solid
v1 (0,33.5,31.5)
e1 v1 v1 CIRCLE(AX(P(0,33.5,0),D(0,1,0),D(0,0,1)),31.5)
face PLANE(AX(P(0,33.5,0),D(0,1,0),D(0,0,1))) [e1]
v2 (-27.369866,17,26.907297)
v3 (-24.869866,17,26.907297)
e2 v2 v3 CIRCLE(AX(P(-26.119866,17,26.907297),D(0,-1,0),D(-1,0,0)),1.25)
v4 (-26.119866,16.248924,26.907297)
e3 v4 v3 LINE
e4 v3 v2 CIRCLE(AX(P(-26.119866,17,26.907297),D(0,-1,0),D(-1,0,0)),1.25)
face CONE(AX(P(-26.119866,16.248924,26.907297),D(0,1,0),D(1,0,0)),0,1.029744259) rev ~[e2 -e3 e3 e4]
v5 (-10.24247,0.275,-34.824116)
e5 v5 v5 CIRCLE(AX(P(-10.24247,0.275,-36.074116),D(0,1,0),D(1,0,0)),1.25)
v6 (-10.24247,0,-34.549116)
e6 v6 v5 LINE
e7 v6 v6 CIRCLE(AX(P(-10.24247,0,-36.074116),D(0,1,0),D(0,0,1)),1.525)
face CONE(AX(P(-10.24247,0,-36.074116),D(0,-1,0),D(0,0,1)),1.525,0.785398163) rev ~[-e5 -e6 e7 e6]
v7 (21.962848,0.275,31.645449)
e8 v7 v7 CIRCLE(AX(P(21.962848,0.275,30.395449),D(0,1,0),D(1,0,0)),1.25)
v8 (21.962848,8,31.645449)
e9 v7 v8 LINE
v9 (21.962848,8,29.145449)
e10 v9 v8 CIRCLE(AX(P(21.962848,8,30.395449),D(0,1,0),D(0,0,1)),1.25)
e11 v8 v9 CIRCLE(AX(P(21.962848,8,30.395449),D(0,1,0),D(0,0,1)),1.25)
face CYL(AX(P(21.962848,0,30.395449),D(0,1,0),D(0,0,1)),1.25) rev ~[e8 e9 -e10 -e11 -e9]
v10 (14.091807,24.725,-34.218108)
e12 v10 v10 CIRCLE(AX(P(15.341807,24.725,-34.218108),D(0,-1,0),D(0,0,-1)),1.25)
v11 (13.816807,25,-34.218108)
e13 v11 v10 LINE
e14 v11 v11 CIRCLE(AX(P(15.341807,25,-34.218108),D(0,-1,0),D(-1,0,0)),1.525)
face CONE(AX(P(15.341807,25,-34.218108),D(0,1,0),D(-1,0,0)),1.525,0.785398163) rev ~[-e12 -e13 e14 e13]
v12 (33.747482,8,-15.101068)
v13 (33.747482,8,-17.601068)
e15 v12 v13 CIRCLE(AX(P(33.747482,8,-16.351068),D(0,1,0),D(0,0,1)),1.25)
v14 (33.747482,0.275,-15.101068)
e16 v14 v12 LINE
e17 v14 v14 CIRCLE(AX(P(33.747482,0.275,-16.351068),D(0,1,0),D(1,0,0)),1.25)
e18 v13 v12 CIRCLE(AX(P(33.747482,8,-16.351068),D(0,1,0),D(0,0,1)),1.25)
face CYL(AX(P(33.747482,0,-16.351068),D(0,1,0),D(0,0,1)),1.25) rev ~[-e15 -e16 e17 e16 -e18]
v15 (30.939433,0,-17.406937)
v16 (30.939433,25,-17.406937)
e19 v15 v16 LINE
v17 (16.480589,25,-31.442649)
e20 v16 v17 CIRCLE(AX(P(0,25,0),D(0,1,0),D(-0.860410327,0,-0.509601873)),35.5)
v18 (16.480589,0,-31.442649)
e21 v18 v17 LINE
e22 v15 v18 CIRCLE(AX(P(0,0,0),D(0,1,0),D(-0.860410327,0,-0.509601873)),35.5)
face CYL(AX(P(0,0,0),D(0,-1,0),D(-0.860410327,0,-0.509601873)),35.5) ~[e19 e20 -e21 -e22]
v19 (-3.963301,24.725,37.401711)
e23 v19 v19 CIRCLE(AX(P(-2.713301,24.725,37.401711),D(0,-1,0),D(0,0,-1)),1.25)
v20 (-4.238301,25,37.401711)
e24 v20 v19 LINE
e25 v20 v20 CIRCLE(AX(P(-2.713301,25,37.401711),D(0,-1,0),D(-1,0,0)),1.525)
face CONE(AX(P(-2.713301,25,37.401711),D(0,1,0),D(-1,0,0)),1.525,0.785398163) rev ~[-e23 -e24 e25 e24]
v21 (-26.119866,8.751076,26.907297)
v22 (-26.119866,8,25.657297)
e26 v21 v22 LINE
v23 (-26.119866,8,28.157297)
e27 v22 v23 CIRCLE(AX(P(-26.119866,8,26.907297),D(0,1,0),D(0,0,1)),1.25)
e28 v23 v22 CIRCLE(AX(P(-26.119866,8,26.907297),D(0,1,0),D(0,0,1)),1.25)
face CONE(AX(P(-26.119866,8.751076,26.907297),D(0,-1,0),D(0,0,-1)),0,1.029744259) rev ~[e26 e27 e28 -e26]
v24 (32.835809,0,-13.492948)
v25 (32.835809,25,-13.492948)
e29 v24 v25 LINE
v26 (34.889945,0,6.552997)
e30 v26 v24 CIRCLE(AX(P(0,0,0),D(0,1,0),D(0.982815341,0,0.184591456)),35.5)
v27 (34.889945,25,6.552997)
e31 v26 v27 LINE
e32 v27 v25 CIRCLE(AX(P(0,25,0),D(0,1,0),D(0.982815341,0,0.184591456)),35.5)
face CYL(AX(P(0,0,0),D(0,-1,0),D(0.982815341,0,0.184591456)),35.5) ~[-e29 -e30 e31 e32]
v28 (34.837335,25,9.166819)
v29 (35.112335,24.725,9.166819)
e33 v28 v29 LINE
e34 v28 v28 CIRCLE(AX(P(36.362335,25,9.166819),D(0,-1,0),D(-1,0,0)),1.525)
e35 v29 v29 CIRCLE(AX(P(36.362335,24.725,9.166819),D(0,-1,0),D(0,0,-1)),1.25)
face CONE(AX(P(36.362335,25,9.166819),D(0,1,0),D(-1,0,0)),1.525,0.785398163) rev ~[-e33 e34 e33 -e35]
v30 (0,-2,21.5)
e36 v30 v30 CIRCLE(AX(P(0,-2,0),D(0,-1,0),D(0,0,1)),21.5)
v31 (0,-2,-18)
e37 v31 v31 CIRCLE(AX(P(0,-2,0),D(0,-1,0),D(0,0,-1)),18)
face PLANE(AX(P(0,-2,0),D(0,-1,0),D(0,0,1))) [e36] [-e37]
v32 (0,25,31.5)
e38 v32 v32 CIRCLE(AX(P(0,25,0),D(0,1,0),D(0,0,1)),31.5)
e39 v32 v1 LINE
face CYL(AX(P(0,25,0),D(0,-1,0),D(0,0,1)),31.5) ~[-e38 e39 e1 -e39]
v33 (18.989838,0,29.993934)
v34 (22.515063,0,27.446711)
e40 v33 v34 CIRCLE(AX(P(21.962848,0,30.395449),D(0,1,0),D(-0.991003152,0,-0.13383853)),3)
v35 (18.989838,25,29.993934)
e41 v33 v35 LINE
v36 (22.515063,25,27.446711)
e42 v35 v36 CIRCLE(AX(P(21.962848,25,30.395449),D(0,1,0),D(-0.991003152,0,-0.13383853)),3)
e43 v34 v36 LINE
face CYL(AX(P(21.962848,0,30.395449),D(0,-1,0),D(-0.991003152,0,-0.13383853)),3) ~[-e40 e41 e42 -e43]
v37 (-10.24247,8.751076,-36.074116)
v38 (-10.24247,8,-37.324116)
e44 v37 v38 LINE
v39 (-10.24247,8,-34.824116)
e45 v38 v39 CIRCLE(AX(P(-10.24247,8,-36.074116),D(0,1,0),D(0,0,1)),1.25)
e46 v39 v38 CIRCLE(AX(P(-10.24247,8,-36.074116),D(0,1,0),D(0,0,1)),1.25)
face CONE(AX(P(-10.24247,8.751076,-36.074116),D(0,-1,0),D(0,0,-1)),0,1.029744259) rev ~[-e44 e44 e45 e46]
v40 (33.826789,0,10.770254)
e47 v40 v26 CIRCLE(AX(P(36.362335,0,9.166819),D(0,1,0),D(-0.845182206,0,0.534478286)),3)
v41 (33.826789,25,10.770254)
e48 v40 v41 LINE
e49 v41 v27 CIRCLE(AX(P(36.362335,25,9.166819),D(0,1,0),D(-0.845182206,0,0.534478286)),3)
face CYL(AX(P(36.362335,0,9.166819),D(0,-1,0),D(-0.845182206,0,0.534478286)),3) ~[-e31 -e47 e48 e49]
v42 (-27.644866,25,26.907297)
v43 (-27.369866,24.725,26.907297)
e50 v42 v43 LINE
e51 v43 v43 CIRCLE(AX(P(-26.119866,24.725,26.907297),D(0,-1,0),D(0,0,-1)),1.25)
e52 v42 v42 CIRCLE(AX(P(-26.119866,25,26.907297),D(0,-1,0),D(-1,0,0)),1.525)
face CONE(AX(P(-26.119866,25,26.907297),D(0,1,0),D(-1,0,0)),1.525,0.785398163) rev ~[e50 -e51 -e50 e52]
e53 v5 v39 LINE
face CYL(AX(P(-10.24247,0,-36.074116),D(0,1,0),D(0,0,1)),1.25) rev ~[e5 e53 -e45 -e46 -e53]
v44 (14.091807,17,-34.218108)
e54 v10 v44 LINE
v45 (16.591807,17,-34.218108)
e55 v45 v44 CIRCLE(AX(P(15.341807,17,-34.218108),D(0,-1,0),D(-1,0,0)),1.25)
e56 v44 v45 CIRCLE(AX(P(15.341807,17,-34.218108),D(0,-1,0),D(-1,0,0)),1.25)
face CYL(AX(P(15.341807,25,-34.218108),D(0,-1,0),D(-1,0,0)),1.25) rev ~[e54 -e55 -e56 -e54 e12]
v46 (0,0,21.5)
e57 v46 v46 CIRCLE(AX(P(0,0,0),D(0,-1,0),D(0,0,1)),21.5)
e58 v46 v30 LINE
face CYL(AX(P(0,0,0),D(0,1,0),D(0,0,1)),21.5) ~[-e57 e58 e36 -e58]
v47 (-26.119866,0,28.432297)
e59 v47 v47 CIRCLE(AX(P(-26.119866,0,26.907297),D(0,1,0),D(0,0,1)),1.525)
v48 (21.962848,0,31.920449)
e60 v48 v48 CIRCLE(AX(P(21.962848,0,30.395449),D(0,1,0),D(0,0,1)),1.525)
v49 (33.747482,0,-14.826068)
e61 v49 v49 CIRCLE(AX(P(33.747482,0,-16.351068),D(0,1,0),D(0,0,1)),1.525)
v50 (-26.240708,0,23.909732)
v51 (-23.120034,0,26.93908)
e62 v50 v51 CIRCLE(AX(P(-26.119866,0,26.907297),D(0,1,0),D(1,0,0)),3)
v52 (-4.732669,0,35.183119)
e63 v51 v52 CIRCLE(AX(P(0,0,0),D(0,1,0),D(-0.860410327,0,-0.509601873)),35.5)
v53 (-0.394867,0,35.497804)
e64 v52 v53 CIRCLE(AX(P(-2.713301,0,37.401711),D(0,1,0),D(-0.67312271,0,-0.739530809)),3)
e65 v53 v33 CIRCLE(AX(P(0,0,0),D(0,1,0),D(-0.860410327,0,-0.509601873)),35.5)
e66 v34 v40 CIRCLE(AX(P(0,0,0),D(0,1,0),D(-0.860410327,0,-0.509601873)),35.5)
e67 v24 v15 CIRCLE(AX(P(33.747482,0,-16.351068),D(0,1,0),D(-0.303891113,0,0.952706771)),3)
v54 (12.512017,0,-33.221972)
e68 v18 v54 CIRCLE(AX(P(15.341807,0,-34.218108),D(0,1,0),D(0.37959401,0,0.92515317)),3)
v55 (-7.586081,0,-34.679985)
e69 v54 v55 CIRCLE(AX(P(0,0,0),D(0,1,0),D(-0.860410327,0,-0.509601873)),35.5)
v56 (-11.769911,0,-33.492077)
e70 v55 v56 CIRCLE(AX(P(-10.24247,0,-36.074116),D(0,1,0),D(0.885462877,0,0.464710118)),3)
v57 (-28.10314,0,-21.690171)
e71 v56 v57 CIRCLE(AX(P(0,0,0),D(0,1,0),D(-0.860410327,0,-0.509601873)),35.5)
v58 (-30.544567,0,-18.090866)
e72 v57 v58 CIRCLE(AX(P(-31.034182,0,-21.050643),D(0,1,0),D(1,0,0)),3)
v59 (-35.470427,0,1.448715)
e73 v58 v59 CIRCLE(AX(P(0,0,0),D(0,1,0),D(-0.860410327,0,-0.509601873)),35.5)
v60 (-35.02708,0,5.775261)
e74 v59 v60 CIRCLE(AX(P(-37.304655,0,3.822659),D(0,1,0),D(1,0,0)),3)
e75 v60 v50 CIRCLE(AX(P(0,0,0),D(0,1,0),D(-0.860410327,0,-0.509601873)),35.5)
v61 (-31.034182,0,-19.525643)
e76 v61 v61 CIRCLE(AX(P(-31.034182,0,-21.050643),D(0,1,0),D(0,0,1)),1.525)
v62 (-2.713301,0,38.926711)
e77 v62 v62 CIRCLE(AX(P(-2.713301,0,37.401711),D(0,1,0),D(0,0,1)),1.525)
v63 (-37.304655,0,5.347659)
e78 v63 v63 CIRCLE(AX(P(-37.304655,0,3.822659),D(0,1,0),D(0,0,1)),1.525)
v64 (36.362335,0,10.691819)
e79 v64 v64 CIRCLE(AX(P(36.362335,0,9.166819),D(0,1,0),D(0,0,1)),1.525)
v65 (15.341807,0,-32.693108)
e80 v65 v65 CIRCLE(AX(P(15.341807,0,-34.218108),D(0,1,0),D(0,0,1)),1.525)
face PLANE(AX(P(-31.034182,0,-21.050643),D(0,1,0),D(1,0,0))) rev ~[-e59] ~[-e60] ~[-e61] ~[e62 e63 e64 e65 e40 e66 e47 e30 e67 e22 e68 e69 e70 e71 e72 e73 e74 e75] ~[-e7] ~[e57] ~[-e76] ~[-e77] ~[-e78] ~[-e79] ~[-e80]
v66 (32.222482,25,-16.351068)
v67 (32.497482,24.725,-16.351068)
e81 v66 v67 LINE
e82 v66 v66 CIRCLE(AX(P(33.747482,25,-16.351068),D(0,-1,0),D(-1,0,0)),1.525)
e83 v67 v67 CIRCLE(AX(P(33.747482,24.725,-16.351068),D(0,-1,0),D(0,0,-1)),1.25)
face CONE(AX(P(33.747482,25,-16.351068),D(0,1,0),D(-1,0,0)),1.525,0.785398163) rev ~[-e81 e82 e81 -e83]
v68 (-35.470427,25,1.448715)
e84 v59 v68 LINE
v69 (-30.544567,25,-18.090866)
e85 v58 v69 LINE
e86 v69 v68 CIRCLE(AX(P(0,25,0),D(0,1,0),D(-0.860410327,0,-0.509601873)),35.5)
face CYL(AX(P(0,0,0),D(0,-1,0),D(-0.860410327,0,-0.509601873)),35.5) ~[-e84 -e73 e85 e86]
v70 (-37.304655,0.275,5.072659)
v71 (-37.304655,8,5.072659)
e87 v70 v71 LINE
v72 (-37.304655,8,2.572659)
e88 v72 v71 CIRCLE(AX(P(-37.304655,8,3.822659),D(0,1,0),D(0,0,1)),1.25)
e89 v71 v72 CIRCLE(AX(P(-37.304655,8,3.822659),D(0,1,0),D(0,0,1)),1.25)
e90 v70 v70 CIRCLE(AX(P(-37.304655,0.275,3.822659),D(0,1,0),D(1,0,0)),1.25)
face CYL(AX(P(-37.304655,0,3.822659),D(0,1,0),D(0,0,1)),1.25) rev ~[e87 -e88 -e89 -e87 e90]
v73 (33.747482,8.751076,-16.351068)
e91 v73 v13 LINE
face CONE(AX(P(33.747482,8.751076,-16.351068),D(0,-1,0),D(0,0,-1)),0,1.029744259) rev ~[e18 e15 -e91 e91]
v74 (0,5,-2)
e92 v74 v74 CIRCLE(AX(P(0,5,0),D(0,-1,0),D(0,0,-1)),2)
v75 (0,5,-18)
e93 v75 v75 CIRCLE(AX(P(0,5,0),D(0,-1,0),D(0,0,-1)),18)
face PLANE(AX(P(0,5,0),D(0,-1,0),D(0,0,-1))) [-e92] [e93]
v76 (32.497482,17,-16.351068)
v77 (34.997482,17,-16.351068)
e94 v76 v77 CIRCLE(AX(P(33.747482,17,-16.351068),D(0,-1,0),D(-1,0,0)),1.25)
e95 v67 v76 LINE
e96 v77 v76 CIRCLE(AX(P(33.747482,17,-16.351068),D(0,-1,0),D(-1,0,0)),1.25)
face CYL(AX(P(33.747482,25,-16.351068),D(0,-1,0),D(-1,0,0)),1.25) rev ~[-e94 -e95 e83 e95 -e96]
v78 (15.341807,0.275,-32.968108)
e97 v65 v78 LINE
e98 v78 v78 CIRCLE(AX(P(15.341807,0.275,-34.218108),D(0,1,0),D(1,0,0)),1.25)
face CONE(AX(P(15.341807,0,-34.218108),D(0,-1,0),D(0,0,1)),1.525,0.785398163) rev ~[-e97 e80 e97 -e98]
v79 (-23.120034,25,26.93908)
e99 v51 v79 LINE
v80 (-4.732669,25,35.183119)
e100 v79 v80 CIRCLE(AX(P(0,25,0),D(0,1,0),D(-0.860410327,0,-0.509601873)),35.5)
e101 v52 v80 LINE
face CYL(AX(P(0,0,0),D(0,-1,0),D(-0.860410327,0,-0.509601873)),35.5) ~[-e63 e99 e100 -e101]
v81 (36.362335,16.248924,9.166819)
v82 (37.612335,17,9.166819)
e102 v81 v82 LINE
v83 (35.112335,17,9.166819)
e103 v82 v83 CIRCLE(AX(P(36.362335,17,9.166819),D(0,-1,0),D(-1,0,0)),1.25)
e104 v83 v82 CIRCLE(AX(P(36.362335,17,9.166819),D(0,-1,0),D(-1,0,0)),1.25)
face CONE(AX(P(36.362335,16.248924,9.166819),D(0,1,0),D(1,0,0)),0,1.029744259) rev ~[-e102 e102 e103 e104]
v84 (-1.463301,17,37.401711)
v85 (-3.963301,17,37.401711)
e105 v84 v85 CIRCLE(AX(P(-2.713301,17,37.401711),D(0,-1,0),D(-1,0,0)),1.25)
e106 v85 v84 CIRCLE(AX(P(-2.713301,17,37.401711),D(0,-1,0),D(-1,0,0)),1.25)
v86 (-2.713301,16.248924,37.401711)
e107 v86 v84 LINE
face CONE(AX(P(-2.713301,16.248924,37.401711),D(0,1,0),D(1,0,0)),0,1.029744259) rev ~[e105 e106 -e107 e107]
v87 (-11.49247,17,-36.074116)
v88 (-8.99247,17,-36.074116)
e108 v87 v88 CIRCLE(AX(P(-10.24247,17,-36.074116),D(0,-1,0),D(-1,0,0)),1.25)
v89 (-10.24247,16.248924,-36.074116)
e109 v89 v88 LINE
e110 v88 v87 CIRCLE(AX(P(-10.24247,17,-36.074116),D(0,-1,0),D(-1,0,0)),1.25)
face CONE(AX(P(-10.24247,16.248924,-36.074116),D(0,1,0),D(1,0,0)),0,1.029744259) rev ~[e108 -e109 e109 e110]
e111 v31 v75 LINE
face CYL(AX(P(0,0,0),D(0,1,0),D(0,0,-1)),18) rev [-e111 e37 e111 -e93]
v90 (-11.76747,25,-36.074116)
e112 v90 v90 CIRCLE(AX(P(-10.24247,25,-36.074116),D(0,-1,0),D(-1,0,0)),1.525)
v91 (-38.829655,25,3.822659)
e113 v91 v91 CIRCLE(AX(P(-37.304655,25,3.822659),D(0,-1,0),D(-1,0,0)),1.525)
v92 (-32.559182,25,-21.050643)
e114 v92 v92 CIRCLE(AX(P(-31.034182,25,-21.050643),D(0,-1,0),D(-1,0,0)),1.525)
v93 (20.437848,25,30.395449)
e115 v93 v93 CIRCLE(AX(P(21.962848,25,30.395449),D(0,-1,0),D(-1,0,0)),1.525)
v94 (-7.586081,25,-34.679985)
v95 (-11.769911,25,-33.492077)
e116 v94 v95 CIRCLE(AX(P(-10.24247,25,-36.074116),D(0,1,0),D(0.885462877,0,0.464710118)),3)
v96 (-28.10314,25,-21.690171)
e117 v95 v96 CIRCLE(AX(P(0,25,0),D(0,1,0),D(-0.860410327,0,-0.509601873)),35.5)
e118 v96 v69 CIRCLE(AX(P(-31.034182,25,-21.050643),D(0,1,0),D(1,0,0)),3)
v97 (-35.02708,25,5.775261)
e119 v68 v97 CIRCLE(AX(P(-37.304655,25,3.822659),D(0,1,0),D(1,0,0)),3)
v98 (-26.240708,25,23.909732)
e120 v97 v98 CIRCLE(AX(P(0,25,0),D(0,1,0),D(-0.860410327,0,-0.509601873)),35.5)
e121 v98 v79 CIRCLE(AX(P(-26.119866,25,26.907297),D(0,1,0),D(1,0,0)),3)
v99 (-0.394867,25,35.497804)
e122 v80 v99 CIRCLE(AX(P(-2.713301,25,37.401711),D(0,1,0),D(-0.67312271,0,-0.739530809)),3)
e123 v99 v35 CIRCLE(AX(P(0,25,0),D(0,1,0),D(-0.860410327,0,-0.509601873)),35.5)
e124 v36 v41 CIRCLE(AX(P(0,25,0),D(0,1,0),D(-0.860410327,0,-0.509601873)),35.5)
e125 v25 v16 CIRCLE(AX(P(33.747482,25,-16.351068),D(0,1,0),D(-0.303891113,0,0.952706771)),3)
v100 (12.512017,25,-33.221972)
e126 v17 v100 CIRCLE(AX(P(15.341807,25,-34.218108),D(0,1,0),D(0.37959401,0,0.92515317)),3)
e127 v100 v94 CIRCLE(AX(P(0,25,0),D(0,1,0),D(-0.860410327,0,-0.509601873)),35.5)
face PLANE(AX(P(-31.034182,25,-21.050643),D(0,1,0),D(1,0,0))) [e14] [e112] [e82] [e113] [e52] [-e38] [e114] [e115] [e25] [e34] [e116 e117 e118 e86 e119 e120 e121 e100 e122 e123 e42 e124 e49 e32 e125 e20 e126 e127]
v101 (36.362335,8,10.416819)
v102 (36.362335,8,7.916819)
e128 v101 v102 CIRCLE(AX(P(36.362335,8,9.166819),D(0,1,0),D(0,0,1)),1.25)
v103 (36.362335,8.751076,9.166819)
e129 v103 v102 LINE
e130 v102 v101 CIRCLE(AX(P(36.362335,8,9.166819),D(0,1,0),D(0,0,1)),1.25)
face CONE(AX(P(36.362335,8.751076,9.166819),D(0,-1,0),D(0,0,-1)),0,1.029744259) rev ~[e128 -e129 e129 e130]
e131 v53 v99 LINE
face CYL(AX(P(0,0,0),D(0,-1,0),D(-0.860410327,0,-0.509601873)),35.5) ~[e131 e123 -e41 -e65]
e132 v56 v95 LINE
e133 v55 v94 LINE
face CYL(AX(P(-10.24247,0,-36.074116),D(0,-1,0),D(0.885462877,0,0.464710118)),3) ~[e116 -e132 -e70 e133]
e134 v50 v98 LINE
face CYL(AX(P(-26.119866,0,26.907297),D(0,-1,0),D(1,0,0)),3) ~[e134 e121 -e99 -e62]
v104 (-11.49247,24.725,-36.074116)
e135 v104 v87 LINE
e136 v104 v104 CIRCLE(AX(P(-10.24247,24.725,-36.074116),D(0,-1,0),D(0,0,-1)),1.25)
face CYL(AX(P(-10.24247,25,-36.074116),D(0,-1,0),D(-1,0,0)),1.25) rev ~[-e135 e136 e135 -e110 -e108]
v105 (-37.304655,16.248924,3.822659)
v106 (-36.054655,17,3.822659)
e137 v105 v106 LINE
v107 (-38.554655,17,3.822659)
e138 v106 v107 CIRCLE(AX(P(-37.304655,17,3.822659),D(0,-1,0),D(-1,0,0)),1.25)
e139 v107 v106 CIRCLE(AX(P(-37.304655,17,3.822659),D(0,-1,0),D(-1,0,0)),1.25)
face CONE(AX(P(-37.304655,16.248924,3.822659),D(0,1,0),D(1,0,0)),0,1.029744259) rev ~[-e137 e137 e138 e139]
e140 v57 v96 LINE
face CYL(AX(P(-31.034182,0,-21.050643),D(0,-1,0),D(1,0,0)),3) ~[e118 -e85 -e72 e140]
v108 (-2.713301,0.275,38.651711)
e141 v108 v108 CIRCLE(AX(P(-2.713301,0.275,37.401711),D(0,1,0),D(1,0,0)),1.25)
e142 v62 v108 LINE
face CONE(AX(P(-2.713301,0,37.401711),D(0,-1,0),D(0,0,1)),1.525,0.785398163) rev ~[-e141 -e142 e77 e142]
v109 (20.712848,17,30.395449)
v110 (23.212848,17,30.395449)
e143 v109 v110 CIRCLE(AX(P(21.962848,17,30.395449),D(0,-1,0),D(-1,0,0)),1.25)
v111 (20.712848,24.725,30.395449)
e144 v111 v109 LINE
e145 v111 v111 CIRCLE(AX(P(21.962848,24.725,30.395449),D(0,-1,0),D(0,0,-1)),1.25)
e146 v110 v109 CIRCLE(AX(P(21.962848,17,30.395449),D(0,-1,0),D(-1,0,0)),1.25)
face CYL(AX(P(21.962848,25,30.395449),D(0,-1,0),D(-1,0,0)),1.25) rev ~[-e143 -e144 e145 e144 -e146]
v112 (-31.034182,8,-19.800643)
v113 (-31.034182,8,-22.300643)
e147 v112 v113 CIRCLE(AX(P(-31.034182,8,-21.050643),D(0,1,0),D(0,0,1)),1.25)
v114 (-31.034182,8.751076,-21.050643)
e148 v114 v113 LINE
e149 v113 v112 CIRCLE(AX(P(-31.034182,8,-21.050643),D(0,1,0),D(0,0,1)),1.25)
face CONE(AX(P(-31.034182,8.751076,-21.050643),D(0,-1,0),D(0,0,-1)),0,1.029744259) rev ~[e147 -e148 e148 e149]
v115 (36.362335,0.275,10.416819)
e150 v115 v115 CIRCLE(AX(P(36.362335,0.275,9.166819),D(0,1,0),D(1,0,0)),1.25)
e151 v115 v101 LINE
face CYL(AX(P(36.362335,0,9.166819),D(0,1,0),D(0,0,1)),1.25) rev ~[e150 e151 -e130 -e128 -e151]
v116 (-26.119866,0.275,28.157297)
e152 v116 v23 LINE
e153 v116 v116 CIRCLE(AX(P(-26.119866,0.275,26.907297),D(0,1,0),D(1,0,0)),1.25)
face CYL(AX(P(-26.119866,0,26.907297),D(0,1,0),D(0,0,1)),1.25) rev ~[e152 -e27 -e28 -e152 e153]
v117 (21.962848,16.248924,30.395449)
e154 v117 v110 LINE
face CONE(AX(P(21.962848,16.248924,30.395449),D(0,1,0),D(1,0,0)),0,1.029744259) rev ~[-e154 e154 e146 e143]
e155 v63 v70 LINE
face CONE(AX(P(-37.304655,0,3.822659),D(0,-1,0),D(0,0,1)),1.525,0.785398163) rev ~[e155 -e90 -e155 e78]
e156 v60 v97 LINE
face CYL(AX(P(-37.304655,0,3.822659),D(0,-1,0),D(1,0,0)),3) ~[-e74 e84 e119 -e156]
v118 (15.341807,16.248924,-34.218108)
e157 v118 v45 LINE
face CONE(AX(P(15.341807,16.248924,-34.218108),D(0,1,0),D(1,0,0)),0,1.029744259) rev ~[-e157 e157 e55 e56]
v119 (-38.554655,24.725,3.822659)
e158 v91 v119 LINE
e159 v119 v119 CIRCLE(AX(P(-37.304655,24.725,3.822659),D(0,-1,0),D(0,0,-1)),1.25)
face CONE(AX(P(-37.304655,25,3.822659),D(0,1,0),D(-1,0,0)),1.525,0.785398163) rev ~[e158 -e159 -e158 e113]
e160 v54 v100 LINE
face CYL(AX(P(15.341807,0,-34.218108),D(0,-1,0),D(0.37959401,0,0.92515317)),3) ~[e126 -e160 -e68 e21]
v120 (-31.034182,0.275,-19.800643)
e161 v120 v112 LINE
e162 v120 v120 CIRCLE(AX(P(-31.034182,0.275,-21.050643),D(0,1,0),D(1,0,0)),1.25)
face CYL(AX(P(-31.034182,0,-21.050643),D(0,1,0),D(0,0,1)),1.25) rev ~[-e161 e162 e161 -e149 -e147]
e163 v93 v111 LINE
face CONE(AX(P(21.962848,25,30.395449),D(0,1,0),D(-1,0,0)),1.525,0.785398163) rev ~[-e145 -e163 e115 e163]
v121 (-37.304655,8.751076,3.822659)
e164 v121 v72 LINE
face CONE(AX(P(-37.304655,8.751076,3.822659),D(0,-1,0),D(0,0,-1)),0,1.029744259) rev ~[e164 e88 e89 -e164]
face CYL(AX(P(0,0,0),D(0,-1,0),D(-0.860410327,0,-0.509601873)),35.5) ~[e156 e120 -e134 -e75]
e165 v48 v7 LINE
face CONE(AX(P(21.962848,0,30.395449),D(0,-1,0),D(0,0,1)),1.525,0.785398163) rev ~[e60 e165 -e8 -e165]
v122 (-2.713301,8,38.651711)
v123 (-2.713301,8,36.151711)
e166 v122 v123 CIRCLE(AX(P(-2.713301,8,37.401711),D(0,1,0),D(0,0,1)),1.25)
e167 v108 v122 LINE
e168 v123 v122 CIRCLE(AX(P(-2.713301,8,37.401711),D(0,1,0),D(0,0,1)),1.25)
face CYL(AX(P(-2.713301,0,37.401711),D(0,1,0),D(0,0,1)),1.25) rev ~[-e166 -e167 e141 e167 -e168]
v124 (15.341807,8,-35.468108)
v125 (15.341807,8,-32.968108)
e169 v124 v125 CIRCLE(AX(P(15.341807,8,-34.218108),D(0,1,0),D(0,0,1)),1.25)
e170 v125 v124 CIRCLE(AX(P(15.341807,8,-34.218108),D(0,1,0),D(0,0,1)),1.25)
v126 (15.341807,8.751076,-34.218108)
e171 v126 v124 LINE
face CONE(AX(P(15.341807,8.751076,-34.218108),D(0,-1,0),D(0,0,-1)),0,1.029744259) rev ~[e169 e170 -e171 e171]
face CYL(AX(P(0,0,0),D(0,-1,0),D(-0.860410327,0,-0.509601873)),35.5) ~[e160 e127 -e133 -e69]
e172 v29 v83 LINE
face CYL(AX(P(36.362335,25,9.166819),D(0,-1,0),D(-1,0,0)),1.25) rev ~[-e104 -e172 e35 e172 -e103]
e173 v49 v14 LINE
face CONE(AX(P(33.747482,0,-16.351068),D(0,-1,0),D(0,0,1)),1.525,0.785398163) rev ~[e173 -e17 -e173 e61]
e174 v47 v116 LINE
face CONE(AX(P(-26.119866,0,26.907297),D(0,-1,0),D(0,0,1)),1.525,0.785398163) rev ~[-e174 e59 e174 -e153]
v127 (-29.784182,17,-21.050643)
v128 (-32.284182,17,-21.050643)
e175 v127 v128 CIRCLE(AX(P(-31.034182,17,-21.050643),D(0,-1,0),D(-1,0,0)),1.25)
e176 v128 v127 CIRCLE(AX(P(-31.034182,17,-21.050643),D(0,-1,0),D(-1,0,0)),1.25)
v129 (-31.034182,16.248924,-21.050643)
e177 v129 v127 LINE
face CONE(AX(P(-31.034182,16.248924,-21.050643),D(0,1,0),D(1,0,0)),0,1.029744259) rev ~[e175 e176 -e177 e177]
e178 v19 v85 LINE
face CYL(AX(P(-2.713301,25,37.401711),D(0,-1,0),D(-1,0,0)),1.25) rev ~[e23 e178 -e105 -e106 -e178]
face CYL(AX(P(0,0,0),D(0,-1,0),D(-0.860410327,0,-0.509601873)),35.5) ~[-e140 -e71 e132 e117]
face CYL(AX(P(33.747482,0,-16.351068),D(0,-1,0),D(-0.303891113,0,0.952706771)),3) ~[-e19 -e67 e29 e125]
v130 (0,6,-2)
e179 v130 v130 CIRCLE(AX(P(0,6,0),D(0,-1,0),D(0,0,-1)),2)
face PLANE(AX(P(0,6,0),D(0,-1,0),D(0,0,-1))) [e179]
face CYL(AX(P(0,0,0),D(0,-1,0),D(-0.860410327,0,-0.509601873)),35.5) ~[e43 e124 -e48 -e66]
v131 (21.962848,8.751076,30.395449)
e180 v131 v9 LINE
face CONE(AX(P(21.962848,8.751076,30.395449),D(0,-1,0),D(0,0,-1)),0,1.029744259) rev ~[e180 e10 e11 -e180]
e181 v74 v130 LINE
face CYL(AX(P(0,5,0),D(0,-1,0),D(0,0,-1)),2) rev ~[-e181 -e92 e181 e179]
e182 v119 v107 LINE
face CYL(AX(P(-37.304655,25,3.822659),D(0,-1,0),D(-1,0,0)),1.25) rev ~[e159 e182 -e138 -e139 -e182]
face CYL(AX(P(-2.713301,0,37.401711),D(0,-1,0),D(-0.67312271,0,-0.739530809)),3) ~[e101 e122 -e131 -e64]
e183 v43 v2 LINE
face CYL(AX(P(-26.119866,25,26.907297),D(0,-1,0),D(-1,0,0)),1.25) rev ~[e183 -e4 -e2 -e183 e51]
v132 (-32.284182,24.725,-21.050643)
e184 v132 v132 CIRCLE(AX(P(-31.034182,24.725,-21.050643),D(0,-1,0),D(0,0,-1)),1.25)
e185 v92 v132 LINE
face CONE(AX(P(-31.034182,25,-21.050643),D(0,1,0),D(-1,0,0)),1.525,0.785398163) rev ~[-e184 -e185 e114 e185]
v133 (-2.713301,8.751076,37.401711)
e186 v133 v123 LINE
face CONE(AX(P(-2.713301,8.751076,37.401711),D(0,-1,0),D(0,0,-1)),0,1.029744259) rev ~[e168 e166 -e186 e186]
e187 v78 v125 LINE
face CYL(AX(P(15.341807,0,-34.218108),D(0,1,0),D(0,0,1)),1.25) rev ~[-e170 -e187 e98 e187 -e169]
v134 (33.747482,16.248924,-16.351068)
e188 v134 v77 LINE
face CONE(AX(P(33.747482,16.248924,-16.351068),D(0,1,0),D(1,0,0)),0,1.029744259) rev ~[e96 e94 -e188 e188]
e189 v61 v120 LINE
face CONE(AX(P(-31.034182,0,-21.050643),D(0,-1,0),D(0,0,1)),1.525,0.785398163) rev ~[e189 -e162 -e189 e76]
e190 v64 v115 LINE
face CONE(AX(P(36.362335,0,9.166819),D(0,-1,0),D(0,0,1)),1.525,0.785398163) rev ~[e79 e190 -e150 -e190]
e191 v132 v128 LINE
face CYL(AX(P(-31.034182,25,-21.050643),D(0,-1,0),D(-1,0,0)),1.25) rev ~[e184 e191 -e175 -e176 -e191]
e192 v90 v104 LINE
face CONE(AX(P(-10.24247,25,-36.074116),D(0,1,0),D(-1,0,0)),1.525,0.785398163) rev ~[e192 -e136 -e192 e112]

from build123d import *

# Parameters (mm, degrees)
SKETCH_1_R                   = 3
SKETCH_1_R_2                 = 35.5
EXTRUDE_1_DEPTH              = 25
HOLE_WIZARD_M3_1_D           = 2.5
HOLE_WIZARD_M3_1_DEPTH       = 8
HOLE_WIZARD_M3_1_CSINK_D     = 3.05
HOLE_WIZARD_M3_1_CSINK_ANGLE = 90
HOLE_WIZARD_M3_1_TIP         = 0.751075774
SKETCH_7_R                   = 21.5
SKETCH_7_R_2                 = 18
EXTRUDE_3_DEPTH              = 2
CUT_EXTRUDE_START            = -5
SKETCH_8_R                   = 18
CUT_EXTRUDE_2_DEPTH          = 5
SKETCH_9_R                   = 2
CUT_EXTRUDE_3_DEPTH          = 1
SKETCH_11_R                  = 31.5
EXTRUDE_4_DEPTH              = 8.5
HOLE_WIZARD_M3_4_D           = 2.5
HOLE_WIZARD_M3_4_DEPTH       = 8
HOLE_WIZARD_M3_4_CSINK_D     = 3.05
HOLE_WIZARD_M3_4_CSINK_ANGLE = 90
HOLE_WIZARD_M3_4_TIP         = 0.751075774


with BuildPart() as part:
    # 草图1 → 凸台-拉伸1 (new body)
    with BuildSketch(Plane(origin=(0, 0, 0), x_dir=(1, 0, 0), z_dir=(0, 1, 0))):
        with Locations((-31.034181612, 21.050643022)):
            Circle(SKETCH_1_R)
        Circle(SKETCH_1_R_2)
        with Locations((-37.304654882, -3.822659306)):
            Circle(SKETCH_1_R)
        with Locations((-26.119865536, -26.907296861)):
            Circle(SKETCH_1_R)
        with Locations((-2.713300817, -37.401711173)):
            Circle(SKETCH_1_R)
        with Locations((21.96284751, -30.395449154)):
            Circle(SKETCH_1_R)
        with Locations((36.362335397, -9.166818668)):
            Circle(SKETCH_1_R)
        with Locations((33.747482429, 16.351068151)):
            Circle(SKETCH_1_R)
        with Locations((15.341807372, 34.21810846)):
            Circle(SKETCH_1_R)
        with Locations((-10.24246986, 36.074115528)):
            Circle(SKETCH_1_R)
        Circle(SKETCH_1_R_2)
        with Locations((-37.304654882, -3.822659306)):
            Circle(SKETCH_1_R)
        Circle(SKETCH_1_R_2)
        with Locations((-37.304654882, -3.822659306)):
            Circle(SKETCH_1_R)
        Circle(SKETCH_1_R_2)
        with Locations((-26.119865536, -26.907296861)):
            Circle(SKETCH_1_R)
        Circle(SKETCH_1_R_2)
        with Locations((-26.119865536, -26.907296861)):
            Circle(SKETCH_1_R)
        Circle(SKETCH_1_R_2)
        with Locations((-2.713300817, -37.401711173)):
            Circle(SKETCH_1_R)
        Circle(SKETCH_1_R_2)
        with Locations((-2.713300817, -37.401711173)):
            Circle(SKETCH_1_R)
        Circle(SKETCH_1_R_2)
        with Locations((21.96284751, -30.395449154)):
            Circle(SKETCH_1_R)
        Circle(SKETCH_1_R_2)
        with Locations((21.96284751, -30.395449154)):
            Circle(SKETCH_1_R)
        Circle(SKETCH_1_R_2)
        with Locations((36.362335397, -9.166818668)):
            Circle(SKETCH_1_R)
        Circle(SKETCH_1_R_2)
        with Locations((36.362335397, -9.166818668)):
            Circle(SKETCH_1_R)
        Circle(SKETCH_1_R_2)
        with Locations((33.747482429, 16.351068151)):
            Circle(SKETCH_1_R)
        Circle(SKETCH_1_R_2)
        with Locations((33.747482429, 16.351068151)):
            Circle(SKETCH_1_R)
        Circle(SKETCH_1_R_2)
        with Locations((15.341807372, 34.21810846)):
            Circle(SKETCH_1_R)
        Circle(SKETCH_1_R_2)
        with Locations((15.341807372, 34.21810846)):
            Circle(SKETCH_1_R)
        Circle(SKETCH_1_R_2)
        with Locations((-10.24246986, 36.074115528)):
            Circle(SKETCH_1_R)
        Circle(SKETCH_1_R_2)
        with Locations((-10.24246986, 36.074115528)):
            Circle(SKETCH_1_R)
        Circle(SKETCH_1_R_2)
        with Locations((-31.034181612, 21.050643022)):
            Circle(SKETCH_1_R)
        Circle(SKETCH_1_R_2)
        with Locations((-31.034181612, 21.050643022)):
            Circle(SKETCH_1_R)
    extrude(amount=EXTRUDE_1_DEPTH)

    # M3 螺纹孔1
    with Locations(Plane(origin=(-26.119865536, 0, 26.907296861), x_dir=(0, 0, -1), z_dir=(0, -1, 0))):
        with Locations((0, 0), (-10.494414312, 23.406564719), (-3.488152293, 48.082713046), (17.740478193, 62.482200933), (43.258365012, 59.867347965), (61.125405321, 41.461672908), (62.981412389, 15.877395676), (47.957939883, -4.914316076), (23.084637555, -11.184789346)):
            CounterSinkHole(HOLE_WIZARD_M3_1_D / 2, HOLE_WIZARD_M3_1_CSINK_D / 2, depth=HOLE_WIZARD_M3_1_DEPTH, counter_sink_angle=HOLE_WIZARD_M3_1_CSINK_ANGLE)
            with Locations((0, 0, -(HOLE_WIZARD_M3_1_DEPTH + HOLE_WIZARD_M3_1_TIP / 2))):  # 118° drill point
                Cone(0, HOLE_WIZARD_M3_1_D / 2, HOLE_WIZARD_M3_1_TIP, mode=Mode.SUBTRACT)

    # 草图7 → 凸台-拉伸3 (add)
    with BuildSketch(Plane.XZ):
        with Locations(Location((0, 0, 0), (0, 0, 90))):
            Circle(SKETCH_7_R)
        with Locations(Location((0, 0, 0), (0, 0, 270))):
            Circle(SKETCH_7_R_2, mode=Mode.SUBTRACT)
    extrude(amount=EXTRUDE_3_DEPTH)

    # 草图8 → 切除-拉伸2 (cut)
    with BuildSketch(Plane.XZ.offset(CUT_EXTRUDE_START)):
        with Locations(Location((0, 0, 0), (0, 0, 270))):
            Circle(SKETCH_8_R)
    extrude(amount=CUT_EXTRUDE_2_DEPTH, mode=Mode.SUBTRACT)

    # 草图9 → 切除-拉伸3 (cut)
    with BuildSketch(Plane.XZ.offset(-5)):
        with Locations(Location((0, 0, 0), (0, 0, 270))):
            Circle(SKETCH_9_R)
    extrude(amount=-CUT_EXTRUDE_3_DEPTH, mode=Mode.SUBTRACT)

    # 草图11 → 凸台-拉伸4 (add)
    with BuildSketch(Plane(origin=(0, 25, 0), x_dir=(1, 0, 0), z_dir=(0, 1, 0))):
        with Locations(Location((0, 0, 0), (0, 0, 270))):
            Circle(SKETCH_11_R)
    extrude(amount=EXTRUDE_4_DEPTH)

    # M3 螺纹孔4
    with Locations(Plane(origin=(0, 25, 0), x_dir=(1, 0, 0), z_dir=(0, 1, 0))):
        with Locations((-31.034181612, 21.050643022), (-37.304654882, -3.822659306), (-26.119865536, -26.907296861), (-2.713300817, -37.401711173), (21.96284751, -30.395449154), (36.362335397, -9.166818668), (33.747482429, 16.351068151), (15.341807372, 34.21810846), (-10.24246986, 36.074115528)):
            CounterSinkHole(HOLE_WIZARD_M3_4_D / 2, HOLE_WIZARD_M3_4_CSINK_D / 2, depth=HOLE_WIZARD_M3_4_DEPTH, counter_sink_angle=HOLE_WIZARD_M3_4_CSINK_ANGLE)
            with Locations((0, 0, -(HOLE_WIZARD_M3_4_DEPTH + HOLE_WIZARD_M3_4_TIP / 2))):  # 118° drill point
                Cone(0, HOLE_WIZARD_M3_4_D / 2, HOLE_WIZARD_M3_4_TIP, mode=Mode.SUBTRACT)


solid = part.part
